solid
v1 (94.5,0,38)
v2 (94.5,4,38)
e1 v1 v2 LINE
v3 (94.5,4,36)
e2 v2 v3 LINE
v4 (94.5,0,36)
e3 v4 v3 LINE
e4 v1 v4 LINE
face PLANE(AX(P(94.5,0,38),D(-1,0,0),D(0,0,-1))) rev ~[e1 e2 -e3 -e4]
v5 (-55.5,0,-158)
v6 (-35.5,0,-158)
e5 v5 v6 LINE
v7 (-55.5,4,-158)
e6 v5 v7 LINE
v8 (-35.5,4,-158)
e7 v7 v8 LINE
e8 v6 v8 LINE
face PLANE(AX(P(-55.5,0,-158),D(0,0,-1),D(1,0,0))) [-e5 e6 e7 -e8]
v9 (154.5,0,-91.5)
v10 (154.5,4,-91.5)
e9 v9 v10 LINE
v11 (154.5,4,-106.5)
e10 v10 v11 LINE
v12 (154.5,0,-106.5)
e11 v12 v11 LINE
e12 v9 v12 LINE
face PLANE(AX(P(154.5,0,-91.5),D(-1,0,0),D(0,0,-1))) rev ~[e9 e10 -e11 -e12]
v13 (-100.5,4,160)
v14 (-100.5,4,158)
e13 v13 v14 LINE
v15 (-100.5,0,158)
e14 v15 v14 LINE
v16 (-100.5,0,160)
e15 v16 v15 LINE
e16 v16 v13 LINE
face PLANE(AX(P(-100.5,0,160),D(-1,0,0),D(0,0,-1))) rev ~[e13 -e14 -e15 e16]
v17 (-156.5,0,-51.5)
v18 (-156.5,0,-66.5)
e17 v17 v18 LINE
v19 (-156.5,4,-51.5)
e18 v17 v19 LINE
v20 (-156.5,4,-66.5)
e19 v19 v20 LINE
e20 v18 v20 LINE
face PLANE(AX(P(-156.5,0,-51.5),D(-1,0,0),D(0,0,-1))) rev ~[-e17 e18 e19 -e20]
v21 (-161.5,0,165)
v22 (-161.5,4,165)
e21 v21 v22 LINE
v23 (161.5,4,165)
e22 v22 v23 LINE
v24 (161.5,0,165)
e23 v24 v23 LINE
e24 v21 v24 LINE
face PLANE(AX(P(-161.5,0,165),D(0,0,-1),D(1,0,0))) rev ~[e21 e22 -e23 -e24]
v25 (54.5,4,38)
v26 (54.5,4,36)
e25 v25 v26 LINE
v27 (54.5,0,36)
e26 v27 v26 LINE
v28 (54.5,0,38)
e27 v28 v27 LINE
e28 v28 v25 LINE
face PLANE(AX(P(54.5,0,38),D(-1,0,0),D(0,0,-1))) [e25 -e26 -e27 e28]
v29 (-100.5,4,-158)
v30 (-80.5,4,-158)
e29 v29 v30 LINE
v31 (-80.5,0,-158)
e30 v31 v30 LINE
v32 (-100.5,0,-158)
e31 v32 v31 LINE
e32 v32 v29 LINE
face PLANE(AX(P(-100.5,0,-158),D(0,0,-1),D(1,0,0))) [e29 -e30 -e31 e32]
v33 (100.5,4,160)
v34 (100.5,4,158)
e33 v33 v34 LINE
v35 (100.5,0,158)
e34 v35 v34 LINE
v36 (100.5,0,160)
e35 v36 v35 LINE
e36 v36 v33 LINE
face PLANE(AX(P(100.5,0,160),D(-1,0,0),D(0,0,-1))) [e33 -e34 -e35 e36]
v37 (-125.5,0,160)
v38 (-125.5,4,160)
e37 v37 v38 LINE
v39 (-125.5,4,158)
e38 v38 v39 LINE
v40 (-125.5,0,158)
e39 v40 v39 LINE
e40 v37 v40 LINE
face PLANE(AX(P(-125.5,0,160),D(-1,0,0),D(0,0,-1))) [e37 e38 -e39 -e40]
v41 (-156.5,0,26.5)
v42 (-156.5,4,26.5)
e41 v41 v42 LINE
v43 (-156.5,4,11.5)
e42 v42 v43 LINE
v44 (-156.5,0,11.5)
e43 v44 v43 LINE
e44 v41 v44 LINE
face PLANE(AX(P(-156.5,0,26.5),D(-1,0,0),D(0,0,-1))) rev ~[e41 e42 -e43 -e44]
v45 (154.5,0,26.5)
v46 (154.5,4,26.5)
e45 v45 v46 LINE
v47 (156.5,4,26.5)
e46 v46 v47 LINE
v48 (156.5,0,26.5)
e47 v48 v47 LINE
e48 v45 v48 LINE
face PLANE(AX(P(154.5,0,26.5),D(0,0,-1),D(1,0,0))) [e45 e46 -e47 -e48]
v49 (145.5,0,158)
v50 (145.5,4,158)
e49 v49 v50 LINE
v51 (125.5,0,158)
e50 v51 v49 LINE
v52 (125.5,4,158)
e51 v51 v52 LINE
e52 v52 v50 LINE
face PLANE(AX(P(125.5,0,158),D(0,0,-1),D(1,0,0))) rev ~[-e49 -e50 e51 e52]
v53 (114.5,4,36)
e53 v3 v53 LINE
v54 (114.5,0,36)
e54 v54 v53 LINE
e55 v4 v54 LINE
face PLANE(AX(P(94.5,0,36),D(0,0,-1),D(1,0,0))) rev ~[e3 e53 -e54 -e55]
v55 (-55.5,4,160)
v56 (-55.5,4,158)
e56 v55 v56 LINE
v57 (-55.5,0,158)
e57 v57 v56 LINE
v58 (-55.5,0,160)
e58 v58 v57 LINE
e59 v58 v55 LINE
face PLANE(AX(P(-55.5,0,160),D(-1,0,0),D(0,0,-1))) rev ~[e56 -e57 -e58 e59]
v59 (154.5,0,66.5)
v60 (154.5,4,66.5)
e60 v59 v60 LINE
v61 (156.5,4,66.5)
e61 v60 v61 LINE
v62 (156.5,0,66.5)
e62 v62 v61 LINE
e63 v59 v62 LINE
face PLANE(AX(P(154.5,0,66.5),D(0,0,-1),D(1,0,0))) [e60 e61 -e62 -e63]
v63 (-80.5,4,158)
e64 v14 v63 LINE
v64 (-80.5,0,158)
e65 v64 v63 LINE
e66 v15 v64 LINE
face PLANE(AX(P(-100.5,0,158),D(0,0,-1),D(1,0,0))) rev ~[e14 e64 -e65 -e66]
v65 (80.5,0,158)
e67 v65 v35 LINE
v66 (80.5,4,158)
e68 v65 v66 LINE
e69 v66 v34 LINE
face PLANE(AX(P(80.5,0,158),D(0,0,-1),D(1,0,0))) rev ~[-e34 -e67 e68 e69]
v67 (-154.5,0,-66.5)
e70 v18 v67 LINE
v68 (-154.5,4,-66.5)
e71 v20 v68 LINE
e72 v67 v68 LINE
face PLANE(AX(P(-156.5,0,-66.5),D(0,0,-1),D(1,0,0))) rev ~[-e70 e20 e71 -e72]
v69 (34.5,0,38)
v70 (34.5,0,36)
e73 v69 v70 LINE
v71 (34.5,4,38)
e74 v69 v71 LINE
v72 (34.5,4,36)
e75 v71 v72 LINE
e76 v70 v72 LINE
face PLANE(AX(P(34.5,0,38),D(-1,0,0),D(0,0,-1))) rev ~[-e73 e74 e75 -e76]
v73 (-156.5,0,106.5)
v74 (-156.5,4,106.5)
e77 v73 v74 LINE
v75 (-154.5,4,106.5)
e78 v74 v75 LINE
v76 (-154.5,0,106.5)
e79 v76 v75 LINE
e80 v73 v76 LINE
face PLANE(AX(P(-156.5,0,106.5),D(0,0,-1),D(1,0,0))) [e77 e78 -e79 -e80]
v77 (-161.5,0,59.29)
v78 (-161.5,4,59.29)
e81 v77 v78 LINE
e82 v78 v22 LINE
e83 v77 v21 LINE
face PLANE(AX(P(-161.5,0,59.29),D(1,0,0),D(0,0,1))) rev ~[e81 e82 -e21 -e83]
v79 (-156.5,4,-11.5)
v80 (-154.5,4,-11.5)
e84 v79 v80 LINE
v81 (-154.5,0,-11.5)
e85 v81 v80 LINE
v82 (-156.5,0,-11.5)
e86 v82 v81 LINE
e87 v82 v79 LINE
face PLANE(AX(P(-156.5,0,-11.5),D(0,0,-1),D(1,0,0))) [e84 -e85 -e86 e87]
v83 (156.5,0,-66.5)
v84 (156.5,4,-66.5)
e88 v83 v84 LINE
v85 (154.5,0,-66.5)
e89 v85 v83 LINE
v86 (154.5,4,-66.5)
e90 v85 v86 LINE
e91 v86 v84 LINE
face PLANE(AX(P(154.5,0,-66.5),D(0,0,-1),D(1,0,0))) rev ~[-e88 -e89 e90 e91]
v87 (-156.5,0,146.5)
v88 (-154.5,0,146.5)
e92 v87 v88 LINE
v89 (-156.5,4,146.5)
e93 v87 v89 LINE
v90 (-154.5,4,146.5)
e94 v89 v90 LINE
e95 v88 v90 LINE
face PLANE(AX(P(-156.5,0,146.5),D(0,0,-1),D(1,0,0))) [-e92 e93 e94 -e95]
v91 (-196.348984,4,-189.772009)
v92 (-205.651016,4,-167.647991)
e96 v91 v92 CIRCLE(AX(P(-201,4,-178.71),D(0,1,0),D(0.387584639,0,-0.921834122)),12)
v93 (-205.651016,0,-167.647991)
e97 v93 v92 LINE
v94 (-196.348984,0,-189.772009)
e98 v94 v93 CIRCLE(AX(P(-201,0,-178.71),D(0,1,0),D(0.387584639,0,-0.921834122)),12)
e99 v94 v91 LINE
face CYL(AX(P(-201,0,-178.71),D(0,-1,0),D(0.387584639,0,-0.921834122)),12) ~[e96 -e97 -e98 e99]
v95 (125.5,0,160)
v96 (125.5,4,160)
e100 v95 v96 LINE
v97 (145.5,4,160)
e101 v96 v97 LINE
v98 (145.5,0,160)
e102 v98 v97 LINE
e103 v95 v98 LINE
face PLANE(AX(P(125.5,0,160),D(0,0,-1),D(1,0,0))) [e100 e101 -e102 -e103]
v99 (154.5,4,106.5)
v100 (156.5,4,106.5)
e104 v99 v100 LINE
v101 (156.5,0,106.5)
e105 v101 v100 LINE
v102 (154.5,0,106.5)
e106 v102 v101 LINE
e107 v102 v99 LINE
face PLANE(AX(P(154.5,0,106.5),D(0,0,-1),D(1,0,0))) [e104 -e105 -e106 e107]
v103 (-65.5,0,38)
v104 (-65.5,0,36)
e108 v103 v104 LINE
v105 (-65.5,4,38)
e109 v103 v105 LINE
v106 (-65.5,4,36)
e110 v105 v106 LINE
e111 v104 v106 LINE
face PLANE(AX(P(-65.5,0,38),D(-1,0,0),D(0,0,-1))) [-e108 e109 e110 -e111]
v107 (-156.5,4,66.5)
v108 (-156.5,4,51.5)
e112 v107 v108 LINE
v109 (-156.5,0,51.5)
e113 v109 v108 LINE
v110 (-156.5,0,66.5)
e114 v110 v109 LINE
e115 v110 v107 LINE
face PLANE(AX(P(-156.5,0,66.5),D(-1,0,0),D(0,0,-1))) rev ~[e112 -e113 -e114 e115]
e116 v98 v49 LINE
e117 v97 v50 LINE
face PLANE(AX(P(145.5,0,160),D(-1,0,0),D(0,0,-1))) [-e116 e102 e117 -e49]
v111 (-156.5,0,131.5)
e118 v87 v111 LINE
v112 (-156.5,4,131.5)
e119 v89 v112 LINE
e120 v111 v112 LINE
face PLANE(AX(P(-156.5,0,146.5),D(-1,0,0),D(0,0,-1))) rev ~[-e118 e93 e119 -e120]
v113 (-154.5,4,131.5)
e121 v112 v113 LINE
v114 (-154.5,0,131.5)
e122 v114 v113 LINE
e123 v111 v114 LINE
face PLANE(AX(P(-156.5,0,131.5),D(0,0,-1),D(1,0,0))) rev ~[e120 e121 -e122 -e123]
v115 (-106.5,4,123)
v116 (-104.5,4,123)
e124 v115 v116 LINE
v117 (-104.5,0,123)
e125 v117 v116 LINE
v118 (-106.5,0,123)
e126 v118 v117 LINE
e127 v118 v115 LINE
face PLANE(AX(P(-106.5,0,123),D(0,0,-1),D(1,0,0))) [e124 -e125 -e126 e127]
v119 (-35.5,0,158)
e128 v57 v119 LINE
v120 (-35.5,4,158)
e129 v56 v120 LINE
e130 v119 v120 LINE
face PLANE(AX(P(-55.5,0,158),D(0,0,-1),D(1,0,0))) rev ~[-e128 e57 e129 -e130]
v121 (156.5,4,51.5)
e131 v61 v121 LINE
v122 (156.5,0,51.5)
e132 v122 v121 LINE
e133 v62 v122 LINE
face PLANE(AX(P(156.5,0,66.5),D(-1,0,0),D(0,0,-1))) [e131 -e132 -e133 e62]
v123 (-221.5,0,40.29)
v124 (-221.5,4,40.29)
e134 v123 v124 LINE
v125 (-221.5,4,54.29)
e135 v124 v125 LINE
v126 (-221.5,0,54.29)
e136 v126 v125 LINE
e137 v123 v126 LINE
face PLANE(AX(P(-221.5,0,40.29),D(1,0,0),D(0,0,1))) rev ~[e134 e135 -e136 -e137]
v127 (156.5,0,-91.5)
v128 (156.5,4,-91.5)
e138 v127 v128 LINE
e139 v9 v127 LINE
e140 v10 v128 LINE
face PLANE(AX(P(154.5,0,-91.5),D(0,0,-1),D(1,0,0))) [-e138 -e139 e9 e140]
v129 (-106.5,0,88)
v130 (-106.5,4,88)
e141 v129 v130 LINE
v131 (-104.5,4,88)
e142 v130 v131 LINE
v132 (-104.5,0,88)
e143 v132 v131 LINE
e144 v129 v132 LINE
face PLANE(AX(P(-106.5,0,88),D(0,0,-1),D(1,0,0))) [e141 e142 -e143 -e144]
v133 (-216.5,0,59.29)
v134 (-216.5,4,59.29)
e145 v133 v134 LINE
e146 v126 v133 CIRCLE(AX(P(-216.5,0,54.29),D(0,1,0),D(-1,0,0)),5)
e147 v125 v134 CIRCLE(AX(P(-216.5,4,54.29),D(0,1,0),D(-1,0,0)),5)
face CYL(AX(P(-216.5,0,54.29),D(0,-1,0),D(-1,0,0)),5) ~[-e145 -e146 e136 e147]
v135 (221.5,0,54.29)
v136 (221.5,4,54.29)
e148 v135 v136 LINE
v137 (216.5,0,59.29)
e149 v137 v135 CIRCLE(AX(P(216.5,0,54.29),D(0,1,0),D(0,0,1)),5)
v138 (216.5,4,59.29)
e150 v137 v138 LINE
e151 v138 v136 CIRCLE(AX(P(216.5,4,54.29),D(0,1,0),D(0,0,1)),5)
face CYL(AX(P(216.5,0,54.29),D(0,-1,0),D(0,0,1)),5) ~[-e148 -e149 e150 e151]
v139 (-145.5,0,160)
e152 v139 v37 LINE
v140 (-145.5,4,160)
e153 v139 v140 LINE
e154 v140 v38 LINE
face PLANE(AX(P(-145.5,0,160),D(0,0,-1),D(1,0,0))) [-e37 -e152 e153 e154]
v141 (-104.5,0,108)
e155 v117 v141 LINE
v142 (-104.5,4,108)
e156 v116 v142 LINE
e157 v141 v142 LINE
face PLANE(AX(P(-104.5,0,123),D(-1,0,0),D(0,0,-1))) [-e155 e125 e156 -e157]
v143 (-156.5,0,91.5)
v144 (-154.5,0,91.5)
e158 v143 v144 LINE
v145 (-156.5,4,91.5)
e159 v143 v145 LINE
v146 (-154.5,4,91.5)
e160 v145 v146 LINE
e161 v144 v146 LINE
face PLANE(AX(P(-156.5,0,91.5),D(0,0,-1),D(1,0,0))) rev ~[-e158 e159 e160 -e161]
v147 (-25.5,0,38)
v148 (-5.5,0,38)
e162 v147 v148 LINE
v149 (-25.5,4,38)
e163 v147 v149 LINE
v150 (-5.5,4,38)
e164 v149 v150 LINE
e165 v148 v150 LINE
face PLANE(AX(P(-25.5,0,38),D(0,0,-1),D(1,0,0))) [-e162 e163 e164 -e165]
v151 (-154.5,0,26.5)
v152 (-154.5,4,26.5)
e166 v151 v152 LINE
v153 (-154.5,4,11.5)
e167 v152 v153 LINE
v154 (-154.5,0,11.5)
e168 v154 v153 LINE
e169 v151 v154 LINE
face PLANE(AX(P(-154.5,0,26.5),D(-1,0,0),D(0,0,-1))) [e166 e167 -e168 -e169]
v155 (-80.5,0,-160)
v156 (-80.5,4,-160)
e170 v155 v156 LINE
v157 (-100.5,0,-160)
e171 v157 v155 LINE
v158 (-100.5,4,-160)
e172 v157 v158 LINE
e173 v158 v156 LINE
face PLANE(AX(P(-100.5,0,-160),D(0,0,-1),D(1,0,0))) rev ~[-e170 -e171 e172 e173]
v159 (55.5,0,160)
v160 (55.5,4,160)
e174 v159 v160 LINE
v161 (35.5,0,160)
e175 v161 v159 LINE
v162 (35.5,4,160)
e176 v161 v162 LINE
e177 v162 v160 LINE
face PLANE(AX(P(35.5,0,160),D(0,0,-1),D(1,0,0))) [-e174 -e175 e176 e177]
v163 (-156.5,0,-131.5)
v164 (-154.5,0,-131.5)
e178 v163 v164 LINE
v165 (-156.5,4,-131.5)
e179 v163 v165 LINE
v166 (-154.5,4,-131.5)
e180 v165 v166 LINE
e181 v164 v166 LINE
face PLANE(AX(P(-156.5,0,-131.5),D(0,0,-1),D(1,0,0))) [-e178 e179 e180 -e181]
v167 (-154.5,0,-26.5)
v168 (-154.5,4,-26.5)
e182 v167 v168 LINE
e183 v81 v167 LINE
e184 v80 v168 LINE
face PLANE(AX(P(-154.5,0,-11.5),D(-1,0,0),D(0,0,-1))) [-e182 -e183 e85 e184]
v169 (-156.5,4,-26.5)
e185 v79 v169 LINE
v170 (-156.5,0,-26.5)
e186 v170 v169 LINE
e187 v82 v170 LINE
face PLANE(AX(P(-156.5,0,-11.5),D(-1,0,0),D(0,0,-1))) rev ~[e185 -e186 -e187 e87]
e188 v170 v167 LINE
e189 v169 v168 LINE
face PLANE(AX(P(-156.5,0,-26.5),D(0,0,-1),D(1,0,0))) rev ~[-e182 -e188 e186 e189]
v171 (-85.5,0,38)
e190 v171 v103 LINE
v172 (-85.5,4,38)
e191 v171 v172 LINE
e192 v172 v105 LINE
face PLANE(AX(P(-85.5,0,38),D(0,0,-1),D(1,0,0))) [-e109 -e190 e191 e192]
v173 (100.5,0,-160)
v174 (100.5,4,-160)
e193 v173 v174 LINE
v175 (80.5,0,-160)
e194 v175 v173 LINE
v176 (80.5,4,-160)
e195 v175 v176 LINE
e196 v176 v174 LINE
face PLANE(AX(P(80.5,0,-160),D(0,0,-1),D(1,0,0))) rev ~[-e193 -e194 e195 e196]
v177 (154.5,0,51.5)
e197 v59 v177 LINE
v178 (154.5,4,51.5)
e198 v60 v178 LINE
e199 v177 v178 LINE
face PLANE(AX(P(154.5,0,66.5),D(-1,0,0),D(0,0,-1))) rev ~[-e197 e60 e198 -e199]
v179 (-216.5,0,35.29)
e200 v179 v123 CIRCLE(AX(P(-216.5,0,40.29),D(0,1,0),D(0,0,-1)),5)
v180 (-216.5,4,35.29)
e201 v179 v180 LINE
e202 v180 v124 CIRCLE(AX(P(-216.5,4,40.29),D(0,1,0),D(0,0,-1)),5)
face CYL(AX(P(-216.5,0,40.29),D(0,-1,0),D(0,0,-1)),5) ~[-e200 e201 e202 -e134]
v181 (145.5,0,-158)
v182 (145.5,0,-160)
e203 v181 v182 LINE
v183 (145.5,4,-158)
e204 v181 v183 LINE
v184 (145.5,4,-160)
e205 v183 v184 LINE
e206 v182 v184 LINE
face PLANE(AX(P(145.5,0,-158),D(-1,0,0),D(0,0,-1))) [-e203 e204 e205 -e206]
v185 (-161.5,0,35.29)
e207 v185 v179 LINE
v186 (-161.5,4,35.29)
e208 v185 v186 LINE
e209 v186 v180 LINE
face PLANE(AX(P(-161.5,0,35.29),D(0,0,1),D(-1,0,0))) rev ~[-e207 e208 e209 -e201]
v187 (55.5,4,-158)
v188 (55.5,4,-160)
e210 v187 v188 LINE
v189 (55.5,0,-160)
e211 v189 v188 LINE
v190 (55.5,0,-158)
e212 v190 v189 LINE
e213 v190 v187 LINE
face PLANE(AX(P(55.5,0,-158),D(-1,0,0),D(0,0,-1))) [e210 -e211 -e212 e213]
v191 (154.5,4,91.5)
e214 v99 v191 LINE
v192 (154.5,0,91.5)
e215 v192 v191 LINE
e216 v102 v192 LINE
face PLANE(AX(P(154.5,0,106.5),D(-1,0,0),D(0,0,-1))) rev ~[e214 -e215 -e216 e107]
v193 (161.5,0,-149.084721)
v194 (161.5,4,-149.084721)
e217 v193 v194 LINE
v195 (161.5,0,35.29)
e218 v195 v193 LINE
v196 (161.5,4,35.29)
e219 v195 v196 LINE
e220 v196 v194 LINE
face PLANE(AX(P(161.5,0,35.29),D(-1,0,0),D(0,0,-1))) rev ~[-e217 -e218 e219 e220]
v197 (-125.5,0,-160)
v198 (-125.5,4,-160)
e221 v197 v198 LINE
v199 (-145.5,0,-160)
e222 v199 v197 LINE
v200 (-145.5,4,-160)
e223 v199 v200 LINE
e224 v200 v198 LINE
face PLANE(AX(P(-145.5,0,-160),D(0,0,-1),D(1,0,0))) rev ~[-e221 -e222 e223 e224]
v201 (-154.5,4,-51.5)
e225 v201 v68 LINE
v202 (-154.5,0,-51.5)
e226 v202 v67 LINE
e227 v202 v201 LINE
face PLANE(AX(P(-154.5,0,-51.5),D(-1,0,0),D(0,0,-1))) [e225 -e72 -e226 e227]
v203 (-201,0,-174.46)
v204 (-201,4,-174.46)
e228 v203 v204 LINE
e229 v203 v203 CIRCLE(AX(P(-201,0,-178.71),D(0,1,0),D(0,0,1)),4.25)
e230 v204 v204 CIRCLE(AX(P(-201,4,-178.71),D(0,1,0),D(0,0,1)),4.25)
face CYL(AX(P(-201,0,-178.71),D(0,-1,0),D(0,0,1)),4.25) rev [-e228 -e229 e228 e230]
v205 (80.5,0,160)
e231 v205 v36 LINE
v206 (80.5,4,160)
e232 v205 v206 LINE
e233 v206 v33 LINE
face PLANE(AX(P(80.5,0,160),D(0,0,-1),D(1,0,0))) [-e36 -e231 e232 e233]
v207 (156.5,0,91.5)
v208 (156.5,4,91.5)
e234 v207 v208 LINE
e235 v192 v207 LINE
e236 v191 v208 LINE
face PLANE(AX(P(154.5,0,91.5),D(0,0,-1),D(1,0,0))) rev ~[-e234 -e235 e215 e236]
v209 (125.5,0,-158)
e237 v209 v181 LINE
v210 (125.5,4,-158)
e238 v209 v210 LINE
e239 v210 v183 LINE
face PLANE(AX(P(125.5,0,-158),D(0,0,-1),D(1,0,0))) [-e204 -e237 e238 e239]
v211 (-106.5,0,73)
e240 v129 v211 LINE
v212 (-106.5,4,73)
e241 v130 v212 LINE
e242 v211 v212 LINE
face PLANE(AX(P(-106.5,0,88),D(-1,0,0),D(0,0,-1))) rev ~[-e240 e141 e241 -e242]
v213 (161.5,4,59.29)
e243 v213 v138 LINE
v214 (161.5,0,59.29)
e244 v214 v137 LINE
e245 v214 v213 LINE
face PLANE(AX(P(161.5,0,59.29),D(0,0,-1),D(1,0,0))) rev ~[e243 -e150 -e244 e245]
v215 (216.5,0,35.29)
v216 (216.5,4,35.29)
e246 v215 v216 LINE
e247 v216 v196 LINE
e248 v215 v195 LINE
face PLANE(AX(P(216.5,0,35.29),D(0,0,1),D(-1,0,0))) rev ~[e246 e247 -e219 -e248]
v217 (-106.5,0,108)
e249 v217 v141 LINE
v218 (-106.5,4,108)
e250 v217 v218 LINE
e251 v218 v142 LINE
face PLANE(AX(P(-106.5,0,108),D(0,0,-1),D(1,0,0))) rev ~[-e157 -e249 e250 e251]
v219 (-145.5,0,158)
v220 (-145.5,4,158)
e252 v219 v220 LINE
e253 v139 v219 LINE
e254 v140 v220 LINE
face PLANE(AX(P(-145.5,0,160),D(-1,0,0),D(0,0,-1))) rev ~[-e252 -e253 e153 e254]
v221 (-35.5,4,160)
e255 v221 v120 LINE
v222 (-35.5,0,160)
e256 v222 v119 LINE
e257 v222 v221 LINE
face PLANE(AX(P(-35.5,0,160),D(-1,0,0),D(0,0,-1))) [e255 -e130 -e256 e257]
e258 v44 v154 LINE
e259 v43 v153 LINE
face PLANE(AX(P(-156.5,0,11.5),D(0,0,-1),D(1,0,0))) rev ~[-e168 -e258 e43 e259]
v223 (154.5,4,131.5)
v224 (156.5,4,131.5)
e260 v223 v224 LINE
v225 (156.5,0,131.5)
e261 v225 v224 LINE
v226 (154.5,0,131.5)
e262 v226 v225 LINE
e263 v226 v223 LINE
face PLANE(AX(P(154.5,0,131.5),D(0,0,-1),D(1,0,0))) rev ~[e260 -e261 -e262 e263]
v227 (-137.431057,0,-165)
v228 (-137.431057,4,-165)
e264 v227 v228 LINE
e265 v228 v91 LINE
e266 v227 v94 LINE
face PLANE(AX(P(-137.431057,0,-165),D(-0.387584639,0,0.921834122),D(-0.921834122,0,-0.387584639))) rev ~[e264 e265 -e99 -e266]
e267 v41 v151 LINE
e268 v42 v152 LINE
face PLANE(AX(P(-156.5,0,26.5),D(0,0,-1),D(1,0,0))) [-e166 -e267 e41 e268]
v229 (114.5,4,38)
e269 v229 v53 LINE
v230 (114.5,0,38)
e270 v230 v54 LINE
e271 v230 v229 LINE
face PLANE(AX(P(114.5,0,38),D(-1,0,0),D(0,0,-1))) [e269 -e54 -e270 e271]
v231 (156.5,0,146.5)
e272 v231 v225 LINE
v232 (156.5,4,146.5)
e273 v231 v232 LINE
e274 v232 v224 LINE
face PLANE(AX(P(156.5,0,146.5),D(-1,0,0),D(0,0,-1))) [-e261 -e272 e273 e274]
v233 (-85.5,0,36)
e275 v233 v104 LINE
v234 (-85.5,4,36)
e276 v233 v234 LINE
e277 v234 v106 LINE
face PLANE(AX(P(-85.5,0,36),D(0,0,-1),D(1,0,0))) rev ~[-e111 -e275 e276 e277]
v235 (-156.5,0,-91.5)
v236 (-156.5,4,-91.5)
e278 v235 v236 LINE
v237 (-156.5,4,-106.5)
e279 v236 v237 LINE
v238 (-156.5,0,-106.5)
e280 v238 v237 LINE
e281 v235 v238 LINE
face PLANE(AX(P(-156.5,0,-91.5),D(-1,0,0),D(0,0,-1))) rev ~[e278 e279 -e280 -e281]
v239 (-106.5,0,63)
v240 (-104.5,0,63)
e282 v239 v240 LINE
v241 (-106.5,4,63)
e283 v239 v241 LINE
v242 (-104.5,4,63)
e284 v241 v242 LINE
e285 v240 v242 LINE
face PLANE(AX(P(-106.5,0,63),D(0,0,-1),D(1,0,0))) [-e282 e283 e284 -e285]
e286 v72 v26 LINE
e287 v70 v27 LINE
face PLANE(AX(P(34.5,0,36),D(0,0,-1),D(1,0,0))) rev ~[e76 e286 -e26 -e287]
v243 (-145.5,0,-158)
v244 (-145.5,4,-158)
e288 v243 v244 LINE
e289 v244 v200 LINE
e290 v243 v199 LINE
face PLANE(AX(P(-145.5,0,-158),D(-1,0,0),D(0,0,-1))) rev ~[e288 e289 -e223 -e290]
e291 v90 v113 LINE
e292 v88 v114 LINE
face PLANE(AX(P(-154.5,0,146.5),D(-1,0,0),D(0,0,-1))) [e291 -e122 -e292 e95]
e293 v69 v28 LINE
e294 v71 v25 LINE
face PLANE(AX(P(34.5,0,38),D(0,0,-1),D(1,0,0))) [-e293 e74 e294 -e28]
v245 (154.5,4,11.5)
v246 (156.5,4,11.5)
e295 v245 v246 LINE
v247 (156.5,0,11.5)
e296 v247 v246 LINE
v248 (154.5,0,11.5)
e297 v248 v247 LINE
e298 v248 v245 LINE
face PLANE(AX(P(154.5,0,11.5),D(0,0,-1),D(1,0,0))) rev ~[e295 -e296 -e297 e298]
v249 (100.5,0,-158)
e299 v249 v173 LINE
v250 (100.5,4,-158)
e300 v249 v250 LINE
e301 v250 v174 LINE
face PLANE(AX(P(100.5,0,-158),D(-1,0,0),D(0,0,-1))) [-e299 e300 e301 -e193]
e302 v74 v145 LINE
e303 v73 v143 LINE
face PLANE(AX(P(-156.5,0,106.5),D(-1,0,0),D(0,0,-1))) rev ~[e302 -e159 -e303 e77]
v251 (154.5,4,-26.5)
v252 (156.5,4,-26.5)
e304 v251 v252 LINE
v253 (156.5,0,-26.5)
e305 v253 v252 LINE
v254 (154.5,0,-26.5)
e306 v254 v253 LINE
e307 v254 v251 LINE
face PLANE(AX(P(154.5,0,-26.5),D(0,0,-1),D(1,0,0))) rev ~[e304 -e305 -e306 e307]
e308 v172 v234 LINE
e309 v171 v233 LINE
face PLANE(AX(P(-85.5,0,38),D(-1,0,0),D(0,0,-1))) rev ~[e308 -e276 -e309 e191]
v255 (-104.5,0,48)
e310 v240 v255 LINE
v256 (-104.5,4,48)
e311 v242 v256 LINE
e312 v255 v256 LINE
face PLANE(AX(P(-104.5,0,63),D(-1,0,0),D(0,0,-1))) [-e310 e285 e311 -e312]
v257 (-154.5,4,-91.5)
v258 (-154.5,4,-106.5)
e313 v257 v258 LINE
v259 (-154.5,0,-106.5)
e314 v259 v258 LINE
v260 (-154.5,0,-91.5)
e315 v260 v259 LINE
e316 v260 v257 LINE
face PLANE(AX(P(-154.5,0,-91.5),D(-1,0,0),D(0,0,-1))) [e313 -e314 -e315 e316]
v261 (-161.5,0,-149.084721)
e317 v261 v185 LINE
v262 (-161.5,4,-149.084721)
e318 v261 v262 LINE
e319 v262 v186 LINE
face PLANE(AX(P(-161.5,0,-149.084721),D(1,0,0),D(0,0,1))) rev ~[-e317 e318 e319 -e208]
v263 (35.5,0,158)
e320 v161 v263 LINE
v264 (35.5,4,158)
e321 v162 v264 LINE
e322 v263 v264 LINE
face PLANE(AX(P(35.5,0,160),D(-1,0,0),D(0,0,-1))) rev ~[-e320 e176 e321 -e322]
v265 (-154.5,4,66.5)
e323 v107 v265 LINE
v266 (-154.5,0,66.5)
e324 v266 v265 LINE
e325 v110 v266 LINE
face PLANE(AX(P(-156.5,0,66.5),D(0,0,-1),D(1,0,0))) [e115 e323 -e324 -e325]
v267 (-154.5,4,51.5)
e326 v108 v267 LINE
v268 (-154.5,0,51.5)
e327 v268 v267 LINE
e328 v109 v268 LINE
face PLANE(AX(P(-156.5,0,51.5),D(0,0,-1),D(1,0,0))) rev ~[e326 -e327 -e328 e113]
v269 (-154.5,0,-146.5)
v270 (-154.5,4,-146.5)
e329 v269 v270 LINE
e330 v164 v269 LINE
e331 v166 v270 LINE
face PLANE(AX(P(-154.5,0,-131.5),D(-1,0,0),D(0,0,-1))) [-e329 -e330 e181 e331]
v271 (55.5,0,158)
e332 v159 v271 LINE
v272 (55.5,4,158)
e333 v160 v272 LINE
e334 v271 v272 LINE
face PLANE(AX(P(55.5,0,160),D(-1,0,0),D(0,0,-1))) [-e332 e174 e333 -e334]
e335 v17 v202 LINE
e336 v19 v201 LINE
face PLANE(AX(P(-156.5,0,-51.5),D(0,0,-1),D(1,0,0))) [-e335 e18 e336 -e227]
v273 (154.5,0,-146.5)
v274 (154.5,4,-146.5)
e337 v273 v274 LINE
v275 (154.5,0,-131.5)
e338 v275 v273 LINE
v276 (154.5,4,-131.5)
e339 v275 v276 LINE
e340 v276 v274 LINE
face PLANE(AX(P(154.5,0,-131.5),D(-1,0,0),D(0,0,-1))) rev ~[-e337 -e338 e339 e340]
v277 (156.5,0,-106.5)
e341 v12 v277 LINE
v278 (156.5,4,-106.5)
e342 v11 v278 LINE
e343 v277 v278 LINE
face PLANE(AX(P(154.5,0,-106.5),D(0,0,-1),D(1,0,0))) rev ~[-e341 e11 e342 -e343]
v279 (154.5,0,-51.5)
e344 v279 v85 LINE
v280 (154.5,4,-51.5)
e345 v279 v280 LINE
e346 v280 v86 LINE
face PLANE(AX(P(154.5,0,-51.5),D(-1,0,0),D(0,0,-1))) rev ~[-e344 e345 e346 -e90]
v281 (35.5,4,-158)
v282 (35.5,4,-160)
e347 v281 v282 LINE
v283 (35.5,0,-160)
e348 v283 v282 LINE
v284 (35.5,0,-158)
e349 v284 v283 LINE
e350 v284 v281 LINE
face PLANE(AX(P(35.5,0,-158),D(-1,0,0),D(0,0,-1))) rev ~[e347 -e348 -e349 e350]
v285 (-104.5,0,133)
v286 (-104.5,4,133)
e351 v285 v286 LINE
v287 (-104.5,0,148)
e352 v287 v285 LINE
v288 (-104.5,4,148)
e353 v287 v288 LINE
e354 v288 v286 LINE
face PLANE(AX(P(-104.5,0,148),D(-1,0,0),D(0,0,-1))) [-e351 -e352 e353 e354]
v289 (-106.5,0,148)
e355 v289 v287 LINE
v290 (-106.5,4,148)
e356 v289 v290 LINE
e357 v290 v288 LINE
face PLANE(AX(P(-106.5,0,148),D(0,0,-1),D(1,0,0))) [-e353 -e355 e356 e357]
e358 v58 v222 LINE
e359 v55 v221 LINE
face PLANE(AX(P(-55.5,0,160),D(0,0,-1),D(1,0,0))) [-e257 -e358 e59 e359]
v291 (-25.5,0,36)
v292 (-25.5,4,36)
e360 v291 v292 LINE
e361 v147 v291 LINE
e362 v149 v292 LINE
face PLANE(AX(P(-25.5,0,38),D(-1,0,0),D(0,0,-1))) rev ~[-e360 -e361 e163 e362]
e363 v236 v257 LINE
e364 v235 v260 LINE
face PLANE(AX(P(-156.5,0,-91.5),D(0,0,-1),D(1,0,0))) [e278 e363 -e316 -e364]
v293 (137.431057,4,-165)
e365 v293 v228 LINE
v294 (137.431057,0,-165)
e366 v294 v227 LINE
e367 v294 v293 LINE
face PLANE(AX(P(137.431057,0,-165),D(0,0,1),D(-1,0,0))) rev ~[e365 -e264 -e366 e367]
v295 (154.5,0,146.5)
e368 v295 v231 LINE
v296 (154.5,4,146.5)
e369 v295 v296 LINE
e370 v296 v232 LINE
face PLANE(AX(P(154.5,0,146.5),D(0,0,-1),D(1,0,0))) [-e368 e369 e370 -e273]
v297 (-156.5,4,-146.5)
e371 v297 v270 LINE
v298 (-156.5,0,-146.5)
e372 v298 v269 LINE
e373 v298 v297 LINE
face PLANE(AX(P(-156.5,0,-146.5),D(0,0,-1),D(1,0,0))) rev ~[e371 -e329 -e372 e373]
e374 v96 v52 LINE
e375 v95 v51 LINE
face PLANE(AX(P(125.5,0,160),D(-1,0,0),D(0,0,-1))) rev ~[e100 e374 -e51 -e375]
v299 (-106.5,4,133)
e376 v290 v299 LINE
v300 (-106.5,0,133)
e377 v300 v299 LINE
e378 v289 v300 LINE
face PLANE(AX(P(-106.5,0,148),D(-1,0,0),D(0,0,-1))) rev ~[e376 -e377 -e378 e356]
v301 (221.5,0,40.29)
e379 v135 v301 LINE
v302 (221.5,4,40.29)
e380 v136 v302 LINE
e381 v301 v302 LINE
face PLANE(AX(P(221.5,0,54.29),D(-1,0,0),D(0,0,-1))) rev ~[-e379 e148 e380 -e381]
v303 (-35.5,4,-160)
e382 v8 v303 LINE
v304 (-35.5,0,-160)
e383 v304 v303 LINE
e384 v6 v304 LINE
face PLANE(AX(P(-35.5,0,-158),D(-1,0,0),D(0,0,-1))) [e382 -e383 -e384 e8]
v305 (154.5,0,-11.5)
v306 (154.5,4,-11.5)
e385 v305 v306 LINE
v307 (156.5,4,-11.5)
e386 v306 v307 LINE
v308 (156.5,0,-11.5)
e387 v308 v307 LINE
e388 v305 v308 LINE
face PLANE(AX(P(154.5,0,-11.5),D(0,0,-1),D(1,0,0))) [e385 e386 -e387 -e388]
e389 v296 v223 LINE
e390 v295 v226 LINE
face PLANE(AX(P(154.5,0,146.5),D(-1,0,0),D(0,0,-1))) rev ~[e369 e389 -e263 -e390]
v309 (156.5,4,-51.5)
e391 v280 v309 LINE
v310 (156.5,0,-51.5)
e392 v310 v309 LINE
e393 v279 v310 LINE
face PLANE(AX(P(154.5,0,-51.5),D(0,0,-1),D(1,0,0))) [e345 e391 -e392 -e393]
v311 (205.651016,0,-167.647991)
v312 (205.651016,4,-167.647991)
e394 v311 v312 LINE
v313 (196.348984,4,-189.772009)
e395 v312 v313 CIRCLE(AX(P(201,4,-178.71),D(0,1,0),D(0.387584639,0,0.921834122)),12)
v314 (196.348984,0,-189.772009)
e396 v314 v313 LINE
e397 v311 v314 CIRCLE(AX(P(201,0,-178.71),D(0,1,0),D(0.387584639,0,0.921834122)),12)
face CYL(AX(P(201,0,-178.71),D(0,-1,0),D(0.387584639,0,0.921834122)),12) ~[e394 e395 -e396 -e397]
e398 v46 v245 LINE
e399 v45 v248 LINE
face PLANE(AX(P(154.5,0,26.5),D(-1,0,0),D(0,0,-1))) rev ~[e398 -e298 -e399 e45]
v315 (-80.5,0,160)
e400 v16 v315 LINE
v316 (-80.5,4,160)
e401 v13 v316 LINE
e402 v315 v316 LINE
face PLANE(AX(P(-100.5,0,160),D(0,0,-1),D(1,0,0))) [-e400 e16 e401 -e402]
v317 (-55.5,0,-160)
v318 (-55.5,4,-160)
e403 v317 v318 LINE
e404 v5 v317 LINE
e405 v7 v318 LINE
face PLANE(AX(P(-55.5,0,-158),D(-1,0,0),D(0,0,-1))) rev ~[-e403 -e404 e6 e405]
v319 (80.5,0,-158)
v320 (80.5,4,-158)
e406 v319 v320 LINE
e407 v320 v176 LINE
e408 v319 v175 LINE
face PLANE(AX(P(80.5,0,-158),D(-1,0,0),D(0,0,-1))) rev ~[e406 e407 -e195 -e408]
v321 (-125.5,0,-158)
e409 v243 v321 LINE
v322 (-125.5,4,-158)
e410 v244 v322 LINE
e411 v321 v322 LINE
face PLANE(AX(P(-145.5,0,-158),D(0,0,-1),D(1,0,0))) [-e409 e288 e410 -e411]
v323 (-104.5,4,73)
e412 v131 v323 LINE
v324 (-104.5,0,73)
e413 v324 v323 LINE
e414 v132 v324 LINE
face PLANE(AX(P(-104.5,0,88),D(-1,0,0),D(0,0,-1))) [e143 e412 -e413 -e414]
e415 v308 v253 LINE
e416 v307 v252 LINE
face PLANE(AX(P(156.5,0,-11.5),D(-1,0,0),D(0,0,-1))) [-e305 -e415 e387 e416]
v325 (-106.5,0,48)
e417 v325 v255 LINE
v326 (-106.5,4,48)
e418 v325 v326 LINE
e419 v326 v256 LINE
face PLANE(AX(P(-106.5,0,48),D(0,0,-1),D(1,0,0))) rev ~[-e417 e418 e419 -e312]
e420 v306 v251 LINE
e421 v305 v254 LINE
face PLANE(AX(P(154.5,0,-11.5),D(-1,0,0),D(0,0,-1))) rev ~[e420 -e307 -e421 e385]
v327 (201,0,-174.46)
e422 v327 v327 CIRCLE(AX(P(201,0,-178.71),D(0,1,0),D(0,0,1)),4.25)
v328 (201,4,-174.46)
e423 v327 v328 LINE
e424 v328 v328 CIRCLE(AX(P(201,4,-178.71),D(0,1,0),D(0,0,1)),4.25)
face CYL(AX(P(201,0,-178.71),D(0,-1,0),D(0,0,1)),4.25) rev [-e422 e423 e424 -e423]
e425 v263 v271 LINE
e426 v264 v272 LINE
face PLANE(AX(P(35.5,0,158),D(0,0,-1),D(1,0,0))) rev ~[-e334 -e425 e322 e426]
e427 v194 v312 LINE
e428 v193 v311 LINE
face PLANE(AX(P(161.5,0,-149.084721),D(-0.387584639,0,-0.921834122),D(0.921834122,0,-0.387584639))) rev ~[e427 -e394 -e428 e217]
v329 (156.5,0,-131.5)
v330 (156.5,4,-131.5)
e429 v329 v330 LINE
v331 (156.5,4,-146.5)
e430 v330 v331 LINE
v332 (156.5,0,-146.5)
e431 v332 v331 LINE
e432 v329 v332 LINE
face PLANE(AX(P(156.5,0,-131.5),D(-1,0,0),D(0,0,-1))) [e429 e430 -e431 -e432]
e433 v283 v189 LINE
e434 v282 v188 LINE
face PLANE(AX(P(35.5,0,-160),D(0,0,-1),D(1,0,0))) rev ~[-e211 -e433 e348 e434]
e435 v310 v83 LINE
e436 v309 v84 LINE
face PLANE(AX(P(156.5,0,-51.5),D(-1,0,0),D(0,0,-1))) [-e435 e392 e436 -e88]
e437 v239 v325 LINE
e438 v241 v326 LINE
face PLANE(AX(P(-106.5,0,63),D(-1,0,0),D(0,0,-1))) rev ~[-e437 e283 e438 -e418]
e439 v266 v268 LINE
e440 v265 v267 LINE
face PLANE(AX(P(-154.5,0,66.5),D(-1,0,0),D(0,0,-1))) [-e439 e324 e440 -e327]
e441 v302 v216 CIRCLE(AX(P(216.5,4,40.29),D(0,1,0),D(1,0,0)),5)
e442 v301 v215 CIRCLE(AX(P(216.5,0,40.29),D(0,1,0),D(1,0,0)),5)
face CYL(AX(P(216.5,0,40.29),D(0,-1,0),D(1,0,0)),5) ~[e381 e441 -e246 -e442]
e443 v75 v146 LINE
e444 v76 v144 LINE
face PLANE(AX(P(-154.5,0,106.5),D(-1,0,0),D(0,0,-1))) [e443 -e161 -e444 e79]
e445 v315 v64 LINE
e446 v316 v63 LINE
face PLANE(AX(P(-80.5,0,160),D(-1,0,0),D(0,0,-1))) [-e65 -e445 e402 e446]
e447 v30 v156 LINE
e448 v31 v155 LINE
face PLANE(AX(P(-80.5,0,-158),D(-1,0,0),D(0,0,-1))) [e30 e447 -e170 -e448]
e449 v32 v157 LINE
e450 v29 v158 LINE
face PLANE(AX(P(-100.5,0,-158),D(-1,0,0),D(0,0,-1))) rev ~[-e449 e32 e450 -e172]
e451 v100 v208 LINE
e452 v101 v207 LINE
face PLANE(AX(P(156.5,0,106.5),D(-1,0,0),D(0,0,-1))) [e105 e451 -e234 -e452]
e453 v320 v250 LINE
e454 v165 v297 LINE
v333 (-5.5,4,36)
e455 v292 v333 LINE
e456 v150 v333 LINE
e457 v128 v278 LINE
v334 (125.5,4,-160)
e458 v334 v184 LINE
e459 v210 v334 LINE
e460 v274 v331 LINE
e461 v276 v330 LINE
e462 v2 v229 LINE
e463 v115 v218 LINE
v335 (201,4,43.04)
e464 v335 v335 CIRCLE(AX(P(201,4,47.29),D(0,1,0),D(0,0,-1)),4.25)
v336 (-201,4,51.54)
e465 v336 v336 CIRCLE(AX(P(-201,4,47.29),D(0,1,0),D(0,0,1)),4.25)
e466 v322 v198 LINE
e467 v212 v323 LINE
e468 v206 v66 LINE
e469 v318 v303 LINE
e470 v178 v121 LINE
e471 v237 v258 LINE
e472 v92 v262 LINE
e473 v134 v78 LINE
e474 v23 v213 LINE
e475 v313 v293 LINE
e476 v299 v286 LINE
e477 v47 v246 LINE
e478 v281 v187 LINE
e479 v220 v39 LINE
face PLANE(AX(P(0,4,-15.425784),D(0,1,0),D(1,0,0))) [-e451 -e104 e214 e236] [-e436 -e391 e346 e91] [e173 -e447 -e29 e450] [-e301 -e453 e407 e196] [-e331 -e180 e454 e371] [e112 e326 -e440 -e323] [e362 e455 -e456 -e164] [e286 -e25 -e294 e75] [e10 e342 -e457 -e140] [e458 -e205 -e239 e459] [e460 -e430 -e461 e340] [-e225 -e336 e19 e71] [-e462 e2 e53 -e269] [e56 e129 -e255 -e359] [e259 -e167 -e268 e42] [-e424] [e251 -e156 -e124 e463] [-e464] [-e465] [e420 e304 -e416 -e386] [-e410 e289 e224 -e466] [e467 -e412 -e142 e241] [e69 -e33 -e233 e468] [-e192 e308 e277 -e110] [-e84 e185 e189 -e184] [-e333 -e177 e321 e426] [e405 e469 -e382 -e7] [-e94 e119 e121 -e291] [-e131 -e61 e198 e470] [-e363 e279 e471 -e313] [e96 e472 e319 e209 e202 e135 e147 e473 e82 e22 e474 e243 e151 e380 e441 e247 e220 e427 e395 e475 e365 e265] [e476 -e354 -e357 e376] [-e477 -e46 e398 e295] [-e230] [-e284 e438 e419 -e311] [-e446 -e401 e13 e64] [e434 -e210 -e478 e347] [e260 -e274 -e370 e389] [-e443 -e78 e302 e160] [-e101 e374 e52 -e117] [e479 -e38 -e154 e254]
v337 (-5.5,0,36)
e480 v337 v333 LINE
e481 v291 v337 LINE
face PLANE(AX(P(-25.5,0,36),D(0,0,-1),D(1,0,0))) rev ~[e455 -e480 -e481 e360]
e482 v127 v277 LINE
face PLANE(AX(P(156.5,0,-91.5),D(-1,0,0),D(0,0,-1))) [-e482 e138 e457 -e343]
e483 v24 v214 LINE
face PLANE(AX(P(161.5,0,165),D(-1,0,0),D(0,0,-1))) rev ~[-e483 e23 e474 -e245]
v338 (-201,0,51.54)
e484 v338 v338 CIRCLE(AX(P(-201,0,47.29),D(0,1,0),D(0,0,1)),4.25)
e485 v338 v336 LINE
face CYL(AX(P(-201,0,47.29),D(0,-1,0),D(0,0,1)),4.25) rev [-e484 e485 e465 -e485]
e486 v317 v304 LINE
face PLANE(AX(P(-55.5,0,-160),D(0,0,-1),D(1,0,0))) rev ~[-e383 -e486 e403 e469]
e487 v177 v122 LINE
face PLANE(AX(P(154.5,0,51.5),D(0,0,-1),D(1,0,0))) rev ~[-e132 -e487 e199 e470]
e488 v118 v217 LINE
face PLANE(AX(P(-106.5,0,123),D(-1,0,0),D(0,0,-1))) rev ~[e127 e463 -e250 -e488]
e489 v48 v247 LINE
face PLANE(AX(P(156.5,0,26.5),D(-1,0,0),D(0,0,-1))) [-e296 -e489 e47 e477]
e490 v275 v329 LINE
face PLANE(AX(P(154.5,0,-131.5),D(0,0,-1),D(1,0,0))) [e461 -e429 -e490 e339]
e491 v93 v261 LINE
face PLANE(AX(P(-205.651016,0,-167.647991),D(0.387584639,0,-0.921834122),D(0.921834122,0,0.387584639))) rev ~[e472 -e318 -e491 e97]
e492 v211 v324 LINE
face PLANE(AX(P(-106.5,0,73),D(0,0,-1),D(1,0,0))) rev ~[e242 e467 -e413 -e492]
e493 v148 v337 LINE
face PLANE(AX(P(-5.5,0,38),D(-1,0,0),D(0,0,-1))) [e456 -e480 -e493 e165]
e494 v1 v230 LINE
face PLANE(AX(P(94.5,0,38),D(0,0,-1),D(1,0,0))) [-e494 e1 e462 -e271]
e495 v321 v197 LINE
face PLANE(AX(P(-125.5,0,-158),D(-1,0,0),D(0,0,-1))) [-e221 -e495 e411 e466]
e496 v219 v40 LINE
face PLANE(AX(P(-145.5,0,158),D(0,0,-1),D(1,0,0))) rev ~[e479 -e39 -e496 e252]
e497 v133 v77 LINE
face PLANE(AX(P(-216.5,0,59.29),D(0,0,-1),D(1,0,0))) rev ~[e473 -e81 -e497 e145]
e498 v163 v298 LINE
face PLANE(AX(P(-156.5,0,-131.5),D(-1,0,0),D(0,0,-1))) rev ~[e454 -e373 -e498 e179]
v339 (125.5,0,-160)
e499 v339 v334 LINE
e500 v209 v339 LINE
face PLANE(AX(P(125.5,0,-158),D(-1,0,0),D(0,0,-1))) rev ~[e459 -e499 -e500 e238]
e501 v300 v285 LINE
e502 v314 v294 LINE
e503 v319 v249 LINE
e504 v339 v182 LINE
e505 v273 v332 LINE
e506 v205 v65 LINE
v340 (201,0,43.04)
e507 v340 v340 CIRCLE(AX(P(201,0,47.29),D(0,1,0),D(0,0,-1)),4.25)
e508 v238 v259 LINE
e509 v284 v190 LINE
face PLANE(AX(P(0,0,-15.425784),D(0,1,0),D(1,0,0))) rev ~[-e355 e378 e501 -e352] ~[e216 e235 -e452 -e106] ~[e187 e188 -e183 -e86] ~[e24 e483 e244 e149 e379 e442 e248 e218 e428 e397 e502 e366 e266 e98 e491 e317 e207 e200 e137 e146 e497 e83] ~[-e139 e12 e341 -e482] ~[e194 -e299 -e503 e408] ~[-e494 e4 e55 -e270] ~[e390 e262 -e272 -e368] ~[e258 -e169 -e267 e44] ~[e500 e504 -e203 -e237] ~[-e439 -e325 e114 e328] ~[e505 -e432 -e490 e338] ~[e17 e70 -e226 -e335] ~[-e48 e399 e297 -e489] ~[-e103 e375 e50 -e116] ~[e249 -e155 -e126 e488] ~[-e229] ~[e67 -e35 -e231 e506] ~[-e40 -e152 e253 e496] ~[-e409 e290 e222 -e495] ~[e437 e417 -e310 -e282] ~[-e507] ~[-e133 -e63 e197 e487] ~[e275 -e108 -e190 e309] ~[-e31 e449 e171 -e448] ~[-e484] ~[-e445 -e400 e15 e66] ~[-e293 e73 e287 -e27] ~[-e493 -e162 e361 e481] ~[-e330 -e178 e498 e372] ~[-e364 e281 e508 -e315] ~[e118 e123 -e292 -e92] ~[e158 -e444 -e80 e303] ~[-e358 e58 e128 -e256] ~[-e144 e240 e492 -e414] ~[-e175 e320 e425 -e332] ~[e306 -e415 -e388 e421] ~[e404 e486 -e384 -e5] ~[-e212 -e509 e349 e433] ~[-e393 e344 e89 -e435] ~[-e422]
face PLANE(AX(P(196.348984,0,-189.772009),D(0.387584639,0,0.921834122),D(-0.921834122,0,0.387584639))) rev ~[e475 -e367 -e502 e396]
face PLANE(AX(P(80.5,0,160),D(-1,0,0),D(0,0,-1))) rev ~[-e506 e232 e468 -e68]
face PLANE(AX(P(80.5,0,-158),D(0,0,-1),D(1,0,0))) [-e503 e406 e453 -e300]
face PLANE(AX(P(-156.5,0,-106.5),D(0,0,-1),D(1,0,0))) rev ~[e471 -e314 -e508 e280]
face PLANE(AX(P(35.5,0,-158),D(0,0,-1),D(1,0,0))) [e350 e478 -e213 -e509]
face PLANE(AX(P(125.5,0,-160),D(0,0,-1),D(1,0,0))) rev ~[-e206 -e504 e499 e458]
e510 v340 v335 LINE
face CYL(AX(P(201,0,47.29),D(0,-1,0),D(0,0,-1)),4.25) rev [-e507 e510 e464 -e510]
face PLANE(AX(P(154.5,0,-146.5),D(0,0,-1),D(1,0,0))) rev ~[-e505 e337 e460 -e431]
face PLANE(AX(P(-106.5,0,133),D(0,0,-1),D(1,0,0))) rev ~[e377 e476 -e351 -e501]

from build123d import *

# Parameters (mm, degrees)
SKETCH1_R           = 4.25
SKETCH1_W           = 2
SKETCH1_H           = 15
SKETCH1_W_2         = 20
SKETCH1_H_2         = 2
BOSS_EXTRUDE1_DEPTH = 4


with BuildPart() as part:
    # Sketch1 → Boss-Extrude1 (new body)
    with BuildSketch(Plane(origin=(0, 0, 0), x_dir=(1, 0, 0), z_dir=(0, 1, 0))):
        with BuildLine():
            Line((-161.5, -165), (161.5, -165))
            Line((161.5, -165), (161.5, -59.29))
            Line((161.5, -59.29), (216.5, -59.29))
            ThreePointArc((216.5, -59.29), (220.035533906, -57.825533906), (221.5, -54.29))
            Line((221.5, -54.29), (221.5, -47.29))
            Line((221.5, -47.29), (221.5, -40.29))
            ThreePointArc((221.5, -40.29), (220.035533906, -36.754466094), (216.5, -35.29))
            Line((216.5, -35.29), (161.5, -35.29))
            Line((161.5, -35.29), (161.5, 149.084720808))
            Line((161.5, 149.084720808), (205.651015663, 167.64799054))
            ThreePointArc((205.651015663, 167.64799054), (212.06200946, 183.361015663), (196.348984337, 189.77200946))
            Line((196.348984337, 189.77200946), (137.431056973, 165))
            Line((137.431056973, 165), (-137.431056973, 165))
            Line((-137.431056973, 165), (-196.348984337, 189.77200946))
            ThreePointArc((-196.348984337, 189.77200946), (-212.06200946, 183.361015663), (-205.651015663, 167.64799054))
            Line((-205.651015663, 167.64799054), (-161.5, 149.084720808))
            Line((-161.5, 149.084720808), (-161.5, -35.29))
            Line((-161.5, -35.29), (-216.5, -35.29))
            ThreePointArc((-216.5, -35.29), (-220.035533906, -36.754466094), (-221.5, -40.29))
            Line((-221.5, -40.29), (-221.5, -47.29))
            Line((-221.5, -47.29), (-221.5, -54.29))
            ThreePointArc((-221.5, -54.29), (-220.035533906, -57.825533906), (-216.5, -59.29))
            Line((-216.5, -59.29), (-161.5, -59.29))
            Line((-161.5, -59.29), (-161.5, -165))
        make_face()
        with Locations(Location((-201, -47.29, 0), (0, 0, 270))):
            Circle(SKETCH1_R, mode=Mode.SUBTRACT)
        with Locations(Location((201, -47.29, 0), (0, 0, 90))):
            Circle(SKETCH1_R, mode=Mode.SUBTRACT)
        with Locations(Location((-201, 178.71, 0), (0, 0, 270))):
            Circle(SKETCH1_R, mode=Mode.SUBTRACT)
        with Locations(Location((201, 178.71, 0), (0, 0, 270))):
            Circle(SKETCH1_R, mode=Mode.SUBTRACT)
        with Locations((155.5, 99)):
            Rectangle(SKETCH1_W, SKETCH1_H, mode=Mode.SUBTRACT)
        with Locations((155.5, 139)):
            Rectangle(SKETCH1_W, SKETCH1_H, mode=Mode.SUBTRACT)
        with Locations((155.5, 59)):
            Rectangle(SKETCH1_W, SKETCH1_H, mode=Mode.SUBTRACT)
        with Locations((155.5, 19)):
            Rectangle(SKETCH1_W, SKETCH1_H, mode=Mode.SUBTRACT)
        with Locations((90.5, 159)):
            Rectangle(SKETCH1_W_2, SKETCH1_H_2, mode=Mode.SUBTRACT)
        with Locations((135.5, 159)):
            Rectangle(SKETCH1_W_2, SKETCH1_H_2, mode=Mode.SUBTRACT)
        with Locations((45.5, 159)):
            Rectangle(SKETCH1_W_2, SKETCH1_H_2, mode=Mode.SUBTRACT)
        with Locations((-45.5, 159)):
            Rectangle(SKETCH1_W_2, SKETCH1_H_2, mode=Mode.SUBTRACT)
        with Locations((-135.5, 159)):
            Rectangle(SKETCH1_W_2, SKETCH1_H_2, mode=Mode.SUBTRACT)
        with Locations((-90.5, 159)):
            Rectangle(SKETCH1_W_2, SKETCH1_H_2, mode=Mode.SUBTRACT)
        with Locations((-155.5, 59)):
            Rectangle(SKETCH1_W, SKETCH1_H, mode=Mode.SUBTRACT)
        with Locations((-155.5, 19)):
            Rectangle(SKETCH1_W, SKETCH1_H, mode=Mode.SUBTRACT)
        with Locations((-155.5, 99)):
            Rectangle(SKETCH1_W, SKETCH1_H, mode=Mode.SUBTRACT)
        with Locations((-155.5, 139)):
            Rectangle(SKETCH1_W, SKETCH1_H, mode=Mode.SUBTRACT)
        with Locations((-155.5, -99)):
            Rectangle(SKETCH1_W, SKETCH1_H, mode=Mode.SUBTRACT)
        with Locations((-135.5, -159)):
            Rectangle(SKETCH1_W_2, SKETCH1_H_2, mode=Mode.SUBTRACT)
        with Locations((-155.5, -139)):
            Rectangle(SKETCH1_W, SKETCH1_H, mode=Mode.SUBTRACT)
        with Locations((-155.5, -59)):
            Rectangle(SKETCH1_W, SKETCH1_H, mode=Mode.SUBTRACT)
        with Locations((-155.5, -19)):
            Rectangle(SKETCH1_W, SKETCH1_H, mode=Mode.SUBTRACT)
        with Locations((-90.5, -159)):
            Rectangle(SKETCH1_W_2, SKETCH1_H_2, mode=Mode.SUBTRACT)
        with Locations((-45.5, -159)):
            Rectangle(SKETCH1_W_2, SKETCH1_H_2, mode=Mode.SUBTRACT)
        with Locations((155.5, -19)):
            Rectangle(SKETCH1_W, SKETCH1_H, mode=Mode.SUBTRACT)
        with Locations((155.5, -59)):
            Rectangle(SKETCH1_W, SKETCH1_H, mode=Mode.SUBTRACT)
        with Locations((155.5, -99)):
            Rectangle(SKETCH1_W, SKETCH1_H, mode=Mode.SUBTRACT)
        with Locations((155.5, -139)):
            Rectangle(SKETCH1_W, SKETCH1_H, mode=Mode.SUBTRACT)
        with Locations((135.5, -159)):
            Rectangle(SKETCH1_W_2, SKETCH1_H_2, mode=Mode.SUBTRACT)
        with Locations((90.5, -159)):
            Rectangle(SKETCH1_W_2, SKETCH1_H_2, mode=Mode.SUBTRACT)
        with Locations((45.5, -159)):
            Rectangle(SKETCH1_W_2, SKETCH1_H_2, mode=Mode.SUBTRACT)
        with Locations((104.5, -37)):
            Rectangle(SKETCH1_W_2, SKETCH1_H_2, mode=Mode.SUBTRACT)
        with Locations((44.5, -37)):
            Rectangle(SKETCH1_W_2, SKETCH1_H_2, mode=Mode.SUBTRACT)
        with Locations((-15.5, -37)):
            Rectangle(SKETCH1_W_2, SKETCH1_H_2, mode=Mode.SUBTRACT)
        with Locations((-75.5, -37)):
            Rectangle(SKETCH1_W_2, SKETCH1_H_2, mode=Mode.SUBTRACT)
        with Locations((-105.5, -80.5)):
            Rectangle(SKETCH1_W, SKETCH1_H, mode=Mode.SUBTRACT)
        with Locations((-105.5, -140.5)):
            Rectangle(SKETCH1_W, SKETCH1_H, mode=Mode.SUBTRACT)
        with Locations((-105.5, -115.5)):
            Rectangle(SKETCH1_W, SKETCH1_H, mode=Mode.SUBTRACT)
        with Locations((-105.5, -55.5)):
            Rectangle(SKETCH1_W, SKETCH1_H, mode=Mode.SUBTRACT)
    extrude(amount=BOSS_EXTRUDE1_DEPTH)


solid = part.part
